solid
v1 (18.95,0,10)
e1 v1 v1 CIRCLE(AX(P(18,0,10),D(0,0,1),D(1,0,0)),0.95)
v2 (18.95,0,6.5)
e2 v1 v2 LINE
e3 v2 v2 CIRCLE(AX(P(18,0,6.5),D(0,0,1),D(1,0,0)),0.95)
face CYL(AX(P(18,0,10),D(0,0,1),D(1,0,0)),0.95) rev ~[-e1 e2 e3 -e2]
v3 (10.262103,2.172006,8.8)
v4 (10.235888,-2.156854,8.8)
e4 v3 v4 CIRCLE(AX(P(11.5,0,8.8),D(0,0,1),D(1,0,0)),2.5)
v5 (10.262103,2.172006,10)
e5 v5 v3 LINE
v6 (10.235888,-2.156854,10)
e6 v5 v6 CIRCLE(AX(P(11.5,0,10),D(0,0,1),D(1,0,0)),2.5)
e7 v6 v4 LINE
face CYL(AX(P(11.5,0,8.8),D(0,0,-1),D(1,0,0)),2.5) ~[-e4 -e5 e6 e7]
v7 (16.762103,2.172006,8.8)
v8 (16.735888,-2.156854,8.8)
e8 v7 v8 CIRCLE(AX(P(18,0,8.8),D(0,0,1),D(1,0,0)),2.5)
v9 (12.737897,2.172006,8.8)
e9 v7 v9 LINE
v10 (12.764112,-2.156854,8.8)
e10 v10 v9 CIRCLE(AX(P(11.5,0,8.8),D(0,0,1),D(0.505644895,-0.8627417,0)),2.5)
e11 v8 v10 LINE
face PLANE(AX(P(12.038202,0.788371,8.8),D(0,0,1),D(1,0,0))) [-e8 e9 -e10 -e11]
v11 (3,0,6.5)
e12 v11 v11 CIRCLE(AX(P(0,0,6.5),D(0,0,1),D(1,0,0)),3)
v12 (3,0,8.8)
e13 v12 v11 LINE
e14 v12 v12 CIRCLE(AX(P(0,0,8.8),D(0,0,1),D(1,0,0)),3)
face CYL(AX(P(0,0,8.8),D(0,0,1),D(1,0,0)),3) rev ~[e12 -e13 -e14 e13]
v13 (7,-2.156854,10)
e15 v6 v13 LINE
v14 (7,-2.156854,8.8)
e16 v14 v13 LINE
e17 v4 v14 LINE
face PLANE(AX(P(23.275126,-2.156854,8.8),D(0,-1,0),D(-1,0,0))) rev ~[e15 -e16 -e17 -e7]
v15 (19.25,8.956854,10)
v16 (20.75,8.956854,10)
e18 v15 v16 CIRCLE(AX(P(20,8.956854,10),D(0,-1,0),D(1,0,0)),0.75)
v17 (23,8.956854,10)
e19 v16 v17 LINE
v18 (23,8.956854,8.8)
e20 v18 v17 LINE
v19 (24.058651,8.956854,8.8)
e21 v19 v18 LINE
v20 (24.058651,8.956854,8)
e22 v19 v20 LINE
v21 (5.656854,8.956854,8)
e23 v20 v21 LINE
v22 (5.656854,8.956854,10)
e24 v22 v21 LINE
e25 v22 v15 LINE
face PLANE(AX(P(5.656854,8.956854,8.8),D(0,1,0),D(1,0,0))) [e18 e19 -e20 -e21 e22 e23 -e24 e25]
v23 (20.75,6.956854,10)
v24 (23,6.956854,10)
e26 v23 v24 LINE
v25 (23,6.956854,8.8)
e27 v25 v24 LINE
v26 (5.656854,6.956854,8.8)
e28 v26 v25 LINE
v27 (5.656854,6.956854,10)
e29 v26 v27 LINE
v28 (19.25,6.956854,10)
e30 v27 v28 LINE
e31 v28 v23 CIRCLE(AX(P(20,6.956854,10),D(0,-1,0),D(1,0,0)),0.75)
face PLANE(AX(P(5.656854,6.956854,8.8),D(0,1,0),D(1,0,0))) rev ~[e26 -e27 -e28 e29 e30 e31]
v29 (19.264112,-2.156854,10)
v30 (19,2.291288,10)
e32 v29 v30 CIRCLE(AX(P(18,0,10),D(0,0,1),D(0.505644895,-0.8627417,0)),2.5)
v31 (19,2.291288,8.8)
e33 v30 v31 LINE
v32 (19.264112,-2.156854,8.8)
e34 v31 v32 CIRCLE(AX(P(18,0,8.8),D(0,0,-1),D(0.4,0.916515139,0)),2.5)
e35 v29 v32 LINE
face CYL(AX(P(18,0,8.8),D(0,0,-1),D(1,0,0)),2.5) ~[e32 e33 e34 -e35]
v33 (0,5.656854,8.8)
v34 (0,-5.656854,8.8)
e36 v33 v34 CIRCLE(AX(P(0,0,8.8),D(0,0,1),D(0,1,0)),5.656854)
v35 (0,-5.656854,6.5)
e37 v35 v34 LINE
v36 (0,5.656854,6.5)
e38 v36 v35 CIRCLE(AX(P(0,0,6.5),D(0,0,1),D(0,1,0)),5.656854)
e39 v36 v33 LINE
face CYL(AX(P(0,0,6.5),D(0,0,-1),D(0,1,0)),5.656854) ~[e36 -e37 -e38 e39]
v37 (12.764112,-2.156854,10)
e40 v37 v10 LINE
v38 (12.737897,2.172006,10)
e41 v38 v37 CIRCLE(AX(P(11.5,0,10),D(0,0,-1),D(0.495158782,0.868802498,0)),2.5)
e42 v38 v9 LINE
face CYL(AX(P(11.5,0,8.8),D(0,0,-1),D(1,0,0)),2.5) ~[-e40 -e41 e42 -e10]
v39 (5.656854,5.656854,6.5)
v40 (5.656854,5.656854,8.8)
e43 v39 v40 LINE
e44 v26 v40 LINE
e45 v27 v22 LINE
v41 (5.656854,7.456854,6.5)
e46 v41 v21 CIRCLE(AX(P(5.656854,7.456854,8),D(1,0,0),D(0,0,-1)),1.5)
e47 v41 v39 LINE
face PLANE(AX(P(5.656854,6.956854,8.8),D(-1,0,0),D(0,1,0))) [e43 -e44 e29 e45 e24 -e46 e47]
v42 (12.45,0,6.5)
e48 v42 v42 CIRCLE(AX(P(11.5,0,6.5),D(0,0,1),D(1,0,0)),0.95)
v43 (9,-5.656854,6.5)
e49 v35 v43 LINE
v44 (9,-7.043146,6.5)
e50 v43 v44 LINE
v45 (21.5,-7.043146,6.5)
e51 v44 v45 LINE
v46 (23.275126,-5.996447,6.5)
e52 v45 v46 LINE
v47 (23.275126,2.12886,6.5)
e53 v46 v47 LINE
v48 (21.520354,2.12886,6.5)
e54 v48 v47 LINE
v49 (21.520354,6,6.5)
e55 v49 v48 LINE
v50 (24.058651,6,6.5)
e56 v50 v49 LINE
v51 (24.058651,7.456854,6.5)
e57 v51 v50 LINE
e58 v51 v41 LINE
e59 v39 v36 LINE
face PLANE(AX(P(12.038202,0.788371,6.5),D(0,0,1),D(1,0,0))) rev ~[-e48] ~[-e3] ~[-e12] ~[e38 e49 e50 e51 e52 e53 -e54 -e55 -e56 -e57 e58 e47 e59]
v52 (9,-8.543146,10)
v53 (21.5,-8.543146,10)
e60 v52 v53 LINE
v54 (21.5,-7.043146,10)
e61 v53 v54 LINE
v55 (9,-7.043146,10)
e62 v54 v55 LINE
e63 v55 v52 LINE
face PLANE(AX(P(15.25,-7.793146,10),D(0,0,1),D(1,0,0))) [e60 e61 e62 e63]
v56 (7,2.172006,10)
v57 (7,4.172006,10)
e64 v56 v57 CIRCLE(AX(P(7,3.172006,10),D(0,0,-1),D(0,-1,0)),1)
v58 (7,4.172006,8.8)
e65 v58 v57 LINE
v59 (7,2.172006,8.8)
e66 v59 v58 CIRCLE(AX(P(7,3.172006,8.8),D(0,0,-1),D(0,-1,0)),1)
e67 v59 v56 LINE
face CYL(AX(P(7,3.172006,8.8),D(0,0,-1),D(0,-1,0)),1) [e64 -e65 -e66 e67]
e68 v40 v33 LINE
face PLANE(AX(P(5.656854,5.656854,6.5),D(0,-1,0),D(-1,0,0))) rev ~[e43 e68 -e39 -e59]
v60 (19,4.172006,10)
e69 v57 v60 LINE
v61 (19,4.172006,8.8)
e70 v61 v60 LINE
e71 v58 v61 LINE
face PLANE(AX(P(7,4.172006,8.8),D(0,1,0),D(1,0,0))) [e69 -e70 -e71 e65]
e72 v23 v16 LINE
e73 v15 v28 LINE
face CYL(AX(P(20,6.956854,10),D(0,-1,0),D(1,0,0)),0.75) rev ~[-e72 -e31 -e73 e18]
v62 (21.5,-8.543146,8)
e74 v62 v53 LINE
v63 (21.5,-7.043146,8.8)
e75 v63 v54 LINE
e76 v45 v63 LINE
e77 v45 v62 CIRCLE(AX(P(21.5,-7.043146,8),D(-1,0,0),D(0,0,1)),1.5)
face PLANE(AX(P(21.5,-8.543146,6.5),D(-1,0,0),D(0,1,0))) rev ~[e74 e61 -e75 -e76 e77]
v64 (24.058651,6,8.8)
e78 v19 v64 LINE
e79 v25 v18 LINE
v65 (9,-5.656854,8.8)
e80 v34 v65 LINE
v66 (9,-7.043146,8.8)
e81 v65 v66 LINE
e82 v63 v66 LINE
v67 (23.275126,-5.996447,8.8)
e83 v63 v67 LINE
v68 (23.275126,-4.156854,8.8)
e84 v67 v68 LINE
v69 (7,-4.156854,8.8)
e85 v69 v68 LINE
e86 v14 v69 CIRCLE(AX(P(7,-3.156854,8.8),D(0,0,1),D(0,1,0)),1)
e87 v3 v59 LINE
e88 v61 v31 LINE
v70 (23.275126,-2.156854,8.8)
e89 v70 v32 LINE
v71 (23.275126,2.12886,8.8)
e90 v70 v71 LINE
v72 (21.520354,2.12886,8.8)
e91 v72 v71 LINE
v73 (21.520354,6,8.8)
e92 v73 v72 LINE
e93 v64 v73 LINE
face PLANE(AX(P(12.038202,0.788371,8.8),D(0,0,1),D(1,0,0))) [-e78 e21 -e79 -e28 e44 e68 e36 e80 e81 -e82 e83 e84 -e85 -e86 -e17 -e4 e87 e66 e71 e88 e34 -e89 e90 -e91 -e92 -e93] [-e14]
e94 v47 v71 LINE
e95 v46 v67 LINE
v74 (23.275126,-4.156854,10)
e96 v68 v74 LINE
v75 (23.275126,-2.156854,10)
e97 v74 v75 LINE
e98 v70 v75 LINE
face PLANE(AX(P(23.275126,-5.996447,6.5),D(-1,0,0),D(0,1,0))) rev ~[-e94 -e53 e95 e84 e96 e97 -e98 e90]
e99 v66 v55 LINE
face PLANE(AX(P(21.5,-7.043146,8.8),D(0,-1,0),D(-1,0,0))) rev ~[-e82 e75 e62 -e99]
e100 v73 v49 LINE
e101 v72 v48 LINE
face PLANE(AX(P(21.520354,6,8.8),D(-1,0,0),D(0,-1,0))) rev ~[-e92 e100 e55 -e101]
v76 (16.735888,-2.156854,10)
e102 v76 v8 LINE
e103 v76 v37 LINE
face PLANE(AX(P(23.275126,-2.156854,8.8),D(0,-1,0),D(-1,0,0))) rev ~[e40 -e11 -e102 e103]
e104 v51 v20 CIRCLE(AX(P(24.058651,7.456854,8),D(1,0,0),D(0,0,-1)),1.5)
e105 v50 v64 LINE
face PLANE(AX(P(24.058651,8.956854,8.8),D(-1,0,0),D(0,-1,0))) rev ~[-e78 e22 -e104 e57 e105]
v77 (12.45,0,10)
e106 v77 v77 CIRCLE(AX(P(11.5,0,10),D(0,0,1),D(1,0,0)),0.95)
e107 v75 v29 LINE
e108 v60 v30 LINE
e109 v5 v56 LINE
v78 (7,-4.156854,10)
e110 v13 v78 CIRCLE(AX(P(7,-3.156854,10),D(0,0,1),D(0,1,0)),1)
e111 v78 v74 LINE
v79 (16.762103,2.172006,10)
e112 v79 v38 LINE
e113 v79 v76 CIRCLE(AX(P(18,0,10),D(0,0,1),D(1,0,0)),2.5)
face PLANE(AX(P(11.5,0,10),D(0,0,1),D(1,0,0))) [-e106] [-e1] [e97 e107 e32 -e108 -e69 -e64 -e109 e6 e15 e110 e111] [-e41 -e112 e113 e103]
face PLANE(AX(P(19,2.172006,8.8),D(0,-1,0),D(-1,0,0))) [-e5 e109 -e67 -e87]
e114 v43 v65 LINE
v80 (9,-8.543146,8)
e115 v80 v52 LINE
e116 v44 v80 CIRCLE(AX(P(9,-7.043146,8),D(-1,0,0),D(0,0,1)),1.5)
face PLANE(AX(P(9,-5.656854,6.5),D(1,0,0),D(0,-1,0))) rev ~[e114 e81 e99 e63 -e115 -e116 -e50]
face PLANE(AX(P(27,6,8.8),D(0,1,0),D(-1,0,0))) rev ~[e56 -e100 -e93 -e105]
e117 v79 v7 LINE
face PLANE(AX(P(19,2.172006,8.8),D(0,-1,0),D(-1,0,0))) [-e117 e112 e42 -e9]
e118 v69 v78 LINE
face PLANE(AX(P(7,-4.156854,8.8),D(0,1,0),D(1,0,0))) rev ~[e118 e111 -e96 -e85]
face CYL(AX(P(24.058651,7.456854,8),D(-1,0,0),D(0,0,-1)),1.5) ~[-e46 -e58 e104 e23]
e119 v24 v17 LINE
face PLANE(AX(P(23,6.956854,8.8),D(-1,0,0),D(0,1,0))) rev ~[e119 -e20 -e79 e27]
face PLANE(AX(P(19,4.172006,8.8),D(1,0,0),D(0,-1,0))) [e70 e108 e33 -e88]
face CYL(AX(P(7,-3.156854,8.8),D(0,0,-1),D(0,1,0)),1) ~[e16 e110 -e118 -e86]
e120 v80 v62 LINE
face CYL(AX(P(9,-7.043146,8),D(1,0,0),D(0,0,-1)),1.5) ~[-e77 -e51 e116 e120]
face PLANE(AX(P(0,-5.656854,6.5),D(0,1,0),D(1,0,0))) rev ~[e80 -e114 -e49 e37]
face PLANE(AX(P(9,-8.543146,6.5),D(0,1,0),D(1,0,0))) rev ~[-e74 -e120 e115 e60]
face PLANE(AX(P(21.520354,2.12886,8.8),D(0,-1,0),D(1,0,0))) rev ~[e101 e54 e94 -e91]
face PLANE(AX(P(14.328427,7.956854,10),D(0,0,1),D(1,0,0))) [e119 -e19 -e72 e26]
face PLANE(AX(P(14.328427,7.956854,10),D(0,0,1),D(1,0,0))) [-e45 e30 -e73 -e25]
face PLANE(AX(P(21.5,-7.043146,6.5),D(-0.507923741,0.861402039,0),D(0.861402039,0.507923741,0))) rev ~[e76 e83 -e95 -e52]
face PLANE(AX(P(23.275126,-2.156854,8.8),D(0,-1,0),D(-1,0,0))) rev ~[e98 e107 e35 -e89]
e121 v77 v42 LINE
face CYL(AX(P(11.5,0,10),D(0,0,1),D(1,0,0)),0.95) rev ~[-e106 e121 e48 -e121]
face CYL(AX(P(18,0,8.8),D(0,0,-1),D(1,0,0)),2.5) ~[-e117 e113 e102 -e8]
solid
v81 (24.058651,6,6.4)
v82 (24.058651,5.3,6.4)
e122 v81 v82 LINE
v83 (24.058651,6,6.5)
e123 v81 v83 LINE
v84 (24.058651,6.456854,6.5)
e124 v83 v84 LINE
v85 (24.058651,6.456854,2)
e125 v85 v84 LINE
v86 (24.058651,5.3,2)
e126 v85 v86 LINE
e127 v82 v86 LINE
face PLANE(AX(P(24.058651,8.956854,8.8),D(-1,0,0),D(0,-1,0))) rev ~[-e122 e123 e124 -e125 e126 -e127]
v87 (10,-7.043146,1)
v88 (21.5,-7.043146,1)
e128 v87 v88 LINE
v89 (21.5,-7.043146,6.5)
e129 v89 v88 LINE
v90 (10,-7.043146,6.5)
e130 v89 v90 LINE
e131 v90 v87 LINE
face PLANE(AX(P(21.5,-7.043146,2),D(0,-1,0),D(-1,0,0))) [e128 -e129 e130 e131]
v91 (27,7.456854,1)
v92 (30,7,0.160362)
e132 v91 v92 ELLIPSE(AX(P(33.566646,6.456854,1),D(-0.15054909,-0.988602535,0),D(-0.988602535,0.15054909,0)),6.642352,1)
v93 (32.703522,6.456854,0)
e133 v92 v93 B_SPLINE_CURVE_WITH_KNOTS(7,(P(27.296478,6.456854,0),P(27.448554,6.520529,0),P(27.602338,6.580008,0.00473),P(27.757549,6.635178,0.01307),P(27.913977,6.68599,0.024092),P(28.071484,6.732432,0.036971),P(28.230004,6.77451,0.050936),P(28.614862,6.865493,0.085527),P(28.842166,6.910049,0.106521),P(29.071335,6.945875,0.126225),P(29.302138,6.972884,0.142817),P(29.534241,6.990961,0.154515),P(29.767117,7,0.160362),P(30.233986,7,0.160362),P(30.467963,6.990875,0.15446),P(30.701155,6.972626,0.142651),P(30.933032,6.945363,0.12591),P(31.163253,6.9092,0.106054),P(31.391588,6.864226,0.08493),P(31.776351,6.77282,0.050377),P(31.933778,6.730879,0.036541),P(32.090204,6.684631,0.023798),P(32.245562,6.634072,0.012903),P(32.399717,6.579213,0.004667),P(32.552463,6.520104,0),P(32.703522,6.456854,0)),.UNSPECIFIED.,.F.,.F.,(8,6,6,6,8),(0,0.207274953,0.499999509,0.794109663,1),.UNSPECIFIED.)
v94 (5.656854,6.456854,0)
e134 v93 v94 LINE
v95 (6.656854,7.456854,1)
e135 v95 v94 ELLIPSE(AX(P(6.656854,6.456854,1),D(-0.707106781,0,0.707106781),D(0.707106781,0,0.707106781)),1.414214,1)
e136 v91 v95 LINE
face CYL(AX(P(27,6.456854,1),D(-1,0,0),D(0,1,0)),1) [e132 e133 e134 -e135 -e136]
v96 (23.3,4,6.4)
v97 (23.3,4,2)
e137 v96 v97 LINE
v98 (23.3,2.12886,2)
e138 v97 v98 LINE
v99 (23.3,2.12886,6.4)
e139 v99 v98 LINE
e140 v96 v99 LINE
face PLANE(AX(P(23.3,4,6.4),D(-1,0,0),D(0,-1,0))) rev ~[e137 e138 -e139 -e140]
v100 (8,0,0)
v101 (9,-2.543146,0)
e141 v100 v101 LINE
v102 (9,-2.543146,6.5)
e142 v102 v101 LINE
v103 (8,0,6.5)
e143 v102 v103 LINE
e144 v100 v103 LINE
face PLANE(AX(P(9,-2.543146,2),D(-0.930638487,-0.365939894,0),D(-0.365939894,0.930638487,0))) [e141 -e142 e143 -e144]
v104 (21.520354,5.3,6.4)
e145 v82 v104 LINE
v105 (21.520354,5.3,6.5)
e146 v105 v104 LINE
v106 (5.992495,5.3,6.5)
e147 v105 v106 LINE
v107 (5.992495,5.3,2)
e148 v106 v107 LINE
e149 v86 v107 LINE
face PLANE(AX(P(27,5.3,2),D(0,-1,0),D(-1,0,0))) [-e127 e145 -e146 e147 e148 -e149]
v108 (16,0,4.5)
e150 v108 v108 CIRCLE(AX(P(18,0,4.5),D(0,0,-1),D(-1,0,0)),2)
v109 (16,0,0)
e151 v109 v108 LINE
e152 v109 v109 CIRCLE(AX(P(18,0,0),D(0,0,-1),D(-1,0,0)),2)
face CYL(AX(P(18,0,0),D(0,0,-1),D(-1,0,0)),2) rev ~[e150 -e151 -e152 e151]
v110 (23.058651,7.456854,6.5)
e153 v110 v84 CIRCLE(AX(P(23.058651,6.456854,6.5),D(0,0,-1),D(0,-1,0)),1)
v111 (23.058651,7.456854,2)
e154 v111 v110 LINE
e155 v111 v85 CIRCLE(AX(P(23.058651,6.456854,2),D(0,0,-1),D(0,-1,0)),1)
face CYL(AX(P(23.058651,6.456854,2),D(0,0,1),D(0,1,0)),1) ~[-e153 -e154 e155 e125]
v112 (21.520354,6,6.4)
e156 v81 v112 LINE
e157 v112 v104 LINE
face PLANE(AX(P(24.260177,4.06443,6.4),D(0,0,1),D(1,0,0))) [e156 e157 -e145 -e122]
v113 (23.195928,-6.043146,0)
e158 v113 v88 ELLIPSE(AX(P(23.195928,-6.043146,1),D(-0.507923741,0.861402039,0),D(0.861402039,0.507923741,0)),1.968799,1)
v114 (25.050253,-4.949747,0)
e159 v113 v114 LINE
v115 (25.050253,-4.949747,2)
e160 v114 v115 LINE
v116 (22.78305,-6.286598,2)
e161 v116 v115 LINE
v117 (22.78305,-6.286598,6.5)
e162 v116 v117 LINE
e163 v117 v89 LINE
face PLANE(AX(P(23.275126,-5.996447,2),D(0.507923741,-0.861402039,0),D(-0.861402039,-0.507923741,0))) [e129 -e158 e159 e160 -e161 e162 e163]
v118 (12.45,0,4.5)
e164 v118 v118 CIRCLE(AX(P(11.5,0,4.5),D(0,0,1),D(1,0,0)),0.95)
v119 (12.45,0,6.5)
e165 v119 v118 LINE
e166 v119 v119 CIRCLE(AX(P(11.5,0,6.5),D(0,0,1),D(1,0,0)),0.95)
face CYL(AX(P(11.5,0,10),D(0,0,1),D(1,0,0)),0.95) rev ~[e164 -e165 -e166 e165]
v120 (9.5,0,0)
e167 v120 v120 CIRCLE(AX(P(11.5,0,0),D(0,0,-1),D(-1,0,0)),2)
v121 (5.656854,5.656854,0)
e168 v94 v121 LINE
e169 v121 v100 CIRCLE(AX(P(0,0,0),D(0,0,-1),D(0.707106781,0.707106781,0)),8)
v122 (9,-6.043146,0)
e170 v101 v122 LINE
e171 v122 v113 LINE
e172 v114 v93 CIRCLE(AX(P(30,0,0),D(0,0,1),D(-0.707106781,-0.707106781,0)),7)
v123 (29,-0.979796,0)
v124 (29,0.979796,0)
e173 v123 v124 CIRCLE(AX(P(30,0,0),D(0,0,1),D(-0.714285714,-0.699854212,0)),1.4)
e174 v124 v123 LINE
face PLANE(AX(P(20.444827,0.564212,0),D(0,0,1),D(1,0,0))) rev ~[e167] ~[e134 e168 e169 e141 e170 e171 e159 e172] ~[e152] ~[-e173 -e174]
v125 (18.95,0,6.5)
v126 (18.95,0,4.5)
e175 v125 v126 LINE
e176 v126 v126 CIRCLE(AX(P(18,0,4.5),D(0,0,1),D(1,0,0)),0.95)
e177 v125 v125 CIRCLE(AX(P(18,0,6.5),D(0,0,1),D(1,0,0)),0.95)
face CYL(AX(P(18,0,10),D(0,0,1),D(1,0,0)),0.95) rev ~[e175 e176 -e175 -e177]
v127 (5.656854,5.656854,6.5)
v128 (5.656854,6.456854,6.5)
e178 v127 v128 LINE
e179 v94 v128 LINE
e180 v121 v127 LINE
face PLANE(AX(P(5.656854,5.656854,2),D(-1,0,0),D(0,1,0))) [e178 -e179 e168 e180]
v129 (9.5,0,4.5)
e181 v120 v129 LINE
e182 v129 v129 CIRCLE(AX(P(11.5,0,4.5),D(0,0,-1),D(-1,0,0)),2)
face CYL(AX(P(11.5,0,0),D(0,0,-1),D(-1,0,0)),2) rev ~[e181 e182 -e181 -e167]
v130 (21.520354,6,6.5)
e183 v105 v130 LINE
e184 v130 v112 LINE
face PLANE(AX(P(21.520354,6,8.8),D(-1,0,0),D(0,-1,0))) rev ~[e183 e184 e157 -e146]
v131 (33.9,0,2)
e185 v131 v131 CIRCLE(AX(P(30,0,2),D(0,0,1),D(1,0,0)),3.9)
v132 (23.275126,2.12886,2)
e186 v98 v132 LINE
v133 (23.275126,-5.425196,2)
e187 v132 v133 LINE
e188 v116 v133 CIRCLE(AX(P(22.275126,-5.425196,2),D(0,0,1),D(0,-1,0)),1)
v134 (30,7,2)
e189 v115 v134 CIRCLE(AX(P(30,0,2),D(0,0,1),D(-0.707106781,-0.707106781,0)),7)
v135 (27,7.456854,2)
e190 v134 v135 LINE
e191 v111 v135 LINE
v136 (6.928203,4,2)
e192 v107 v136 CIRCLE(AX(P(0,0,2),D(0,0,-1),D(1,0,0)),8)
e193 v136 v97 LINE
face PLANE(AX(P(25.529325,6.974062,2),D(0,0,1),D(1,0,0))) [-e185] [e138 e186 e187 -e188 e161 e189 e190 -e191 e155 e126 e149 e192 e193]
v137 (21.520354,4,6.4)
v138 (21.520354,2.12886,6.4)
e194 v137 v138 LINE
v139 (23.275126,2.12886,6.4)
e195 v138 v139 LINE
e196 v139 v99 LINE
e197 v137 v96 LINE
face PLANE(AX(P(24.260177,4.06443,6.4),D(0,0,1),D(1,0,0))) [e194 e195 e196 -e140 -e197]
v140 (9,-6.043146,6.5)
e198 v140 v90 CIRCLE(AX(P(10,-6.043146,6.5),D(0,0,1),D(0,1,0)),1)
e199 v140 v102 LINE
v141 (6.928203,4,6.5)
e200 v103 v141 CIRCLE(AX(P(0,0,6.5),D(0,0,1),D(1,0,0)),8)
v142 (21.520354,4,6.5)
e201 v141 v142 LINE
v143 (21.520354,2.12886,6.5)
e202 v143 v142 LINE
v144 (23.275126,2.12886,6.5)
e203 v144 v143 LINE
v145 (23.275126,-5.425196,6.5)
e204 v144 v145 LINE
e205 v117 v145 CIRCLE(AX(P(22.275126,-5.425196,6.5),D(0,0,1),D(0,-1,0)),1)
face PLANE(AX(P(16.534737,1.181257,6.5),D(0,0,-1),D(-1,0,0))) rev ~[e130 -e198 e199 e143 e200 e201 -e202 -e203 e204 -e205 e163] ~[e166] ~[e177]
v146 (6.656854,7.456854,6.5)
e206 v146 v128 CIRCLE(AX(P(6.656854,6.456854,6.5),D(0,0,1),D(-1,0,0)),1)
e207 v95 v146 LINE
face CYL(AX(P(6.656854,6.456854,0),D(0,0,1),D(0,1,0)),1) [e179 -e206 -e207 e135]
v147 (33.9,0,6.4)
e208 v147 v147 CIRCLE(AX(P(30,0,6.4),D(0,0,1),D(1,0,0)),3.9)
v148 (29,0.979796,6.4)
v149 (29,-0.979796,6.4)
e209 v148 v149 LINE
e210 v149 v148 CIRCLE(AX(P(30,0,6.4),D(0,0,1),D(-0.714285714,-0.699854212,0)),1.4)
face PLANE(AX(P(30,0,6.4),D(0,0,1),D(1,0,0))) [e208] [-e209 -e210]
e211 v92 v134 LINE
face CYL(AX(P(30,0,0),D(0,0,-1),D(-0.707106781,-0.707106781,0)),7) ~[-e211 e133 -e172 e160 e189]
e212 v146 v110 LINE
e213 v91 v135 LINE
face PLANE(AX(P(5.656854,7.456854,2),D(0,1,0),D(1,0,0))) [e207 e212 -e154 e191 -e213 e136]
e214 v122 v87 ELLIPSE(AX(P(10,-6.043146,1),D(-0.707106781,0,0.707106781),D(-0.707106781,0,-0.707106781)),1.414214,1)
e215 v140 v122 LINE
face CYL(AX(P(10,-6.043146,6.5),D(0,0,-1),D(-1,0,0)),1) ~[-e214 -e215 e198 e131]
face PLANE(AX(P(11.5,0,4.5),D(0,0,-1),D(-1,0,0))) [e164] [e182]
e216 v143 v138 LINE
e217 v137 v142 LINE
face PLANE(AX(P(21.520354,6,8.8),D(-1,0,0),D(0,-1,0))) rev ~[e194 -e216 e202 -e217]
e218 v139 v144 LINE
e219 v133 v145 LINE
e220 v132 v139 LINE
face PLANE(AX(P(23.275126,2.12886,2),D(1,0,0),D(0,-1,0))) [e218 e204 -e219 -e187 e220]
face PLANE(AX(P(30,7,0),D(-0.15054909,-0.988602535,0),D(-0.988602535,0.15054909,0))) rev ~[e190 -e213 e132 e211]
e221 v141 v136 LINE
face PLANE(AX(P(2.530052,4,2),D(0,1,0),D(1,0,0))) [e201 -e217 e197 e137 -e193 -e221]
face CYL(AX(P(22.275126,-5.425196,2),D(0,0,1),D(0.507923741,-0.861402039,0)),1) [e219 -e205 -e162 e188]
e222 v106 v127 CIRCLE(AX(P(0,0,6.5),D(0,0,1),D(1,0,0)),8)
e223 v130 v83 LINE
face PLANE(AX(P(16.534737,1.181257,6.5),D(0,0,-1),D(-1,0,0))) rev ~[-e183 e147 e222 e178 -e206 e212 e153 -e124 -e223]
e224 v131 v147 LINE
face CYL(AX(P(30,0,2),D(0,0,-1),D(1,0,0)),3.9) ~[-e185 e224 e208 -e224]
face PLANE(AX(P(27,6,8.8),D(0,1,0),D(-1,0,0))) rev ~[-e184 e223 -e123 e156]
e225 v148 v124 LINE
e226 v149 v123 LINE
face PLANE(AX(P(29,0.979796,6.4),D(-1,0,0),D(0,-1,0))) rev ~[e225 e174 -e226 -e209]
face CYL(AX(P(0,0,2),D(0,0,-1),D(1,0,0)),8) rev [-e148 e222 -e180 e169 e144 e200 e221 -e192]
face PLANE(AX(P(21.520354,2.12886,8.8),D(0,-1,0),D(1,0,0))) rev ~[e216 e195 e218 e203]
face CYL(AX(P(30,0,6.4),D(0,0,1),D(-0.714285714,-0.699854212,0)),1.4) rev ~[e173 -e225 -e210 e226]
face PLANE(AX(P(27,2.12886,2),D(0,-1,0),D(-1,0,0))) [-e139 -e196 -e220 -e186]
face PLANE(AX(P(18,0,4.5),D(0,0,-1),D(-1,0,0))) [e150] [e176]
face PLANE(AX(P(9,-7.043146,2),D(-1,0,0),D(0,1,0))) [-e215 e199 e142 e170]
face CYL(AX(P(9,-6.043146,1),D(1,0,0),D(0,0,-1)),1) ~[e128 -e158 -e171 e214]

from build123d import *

# Parameters (mm, degrees)
BOSS_EXTRUDE1_DEPTH  = 2
BOSS_EXTRUDE6_DEPTH  = 4.5
CUT_EXTRUDE6_DEPTH   = 4.5
BOSS_EXTRUDE14_DEPTH = 2.3
SKETCH32_R           = 3
CUT_EXTRUDE7_DEPTH   = 2.3
SKETCH33_W           = 17.343145750507624
SKETCH33_H           = 2
BOSS_EXTRUDE15_DEPTH = 1.2
CUT_EXTRUDE8_DEPTH   = 2.4
CUT_EXTRUDE9_DEPTH   = 4.3999999999999995
SKETCH37_R           = 3.899999999999994
BOSS_EXTRUDE16_DEPTH = 4.4
CUT_EXTRUDE10_DEPTH  = 39.60291748102272
SKETCH43_R           = 2.5000000000000004
SKETCH43_R_2         = 2.4999999999999982
BOSS_EXTRUDE17_DEPTH = 1.2
SKETCH44_R           = 0.9499999999999992
SKETCH44_R_2         = 0.9500000000000008
CUT_EXTRUDE11_DEPTH  = 40.360198653546576
SKETCH45_R           = 1.9999999999999996
SKETCH45_R_2         = 2.000000000000003
CUT_EXTRUDE12_DEPTH  = 4.5
SKETCH49_R           = 0.7500000000000021
CUT_EXTRUDE13_DEPTH  = 3
CUT_EXTRUDE14_DEPTH  = 6.8
FILLET1_R            = 1.5
FILLET3_R            = 1


with BuildPart() as part:
    # Sketch3 → Boss-Extrude1 (new body)
    with BuildSketch(Plane.XY):
        with BuildLine():
            Line((8.000000000000002, 0), (8.999999999999993, -2.5431457505076343))
            Line((8.999999999999993, -2.5431457505076343), (8.999999999999993, -7.04314575050762))
            Line((8.999999999999993, -7.04314575050762), (21.50000000000003, -7.043145750507617))
            Line((21.50000000000003, -7.043145750507617), (25.05025253169419, -4.949747468305846))
            ThreePointArc((25.05025253169419, -4.949747468305846), (36.46715672757901, -2.678784026555599), (30, 7.000000000000014))
            Line((30, 7.000000000000014), (26.999999999999996, 7.456854249492377))
            Line((26.999999999999996, 7.456854249492377), (5.656854249492369, 7.456854249492377))
            Line((5.656854249492369, 7.456854249492377), (5.656854249492376, 5.656854249492382))
            ThreePointArc((5.656854249492376, 5.656854249492382), (7.391036260090296, 3.061467458920721), (8.000000000000002, 0))
        make_face()
    extrude(amount=BOSS_EXTRUDE1_DEPTH)

    # Sketch22 → Boss-Extrude6 (add)
    with BuildSketch(Plane.XY.offset(2)):
        with BuildLine():
            Line((5.656854249492376, 7.456854249492377), (21.50000000000004, 7.456854249492377))
            Line((21.50000000000004, 7.456854249492377), (26.999999999999996, 7.456854249492377))
            Line((26.999999999999996, 7.456854249492377), (26.999999999999996, 2.1288604946885763))
            Line((26.999999999999996, 2.1288604946885763), (23.27512626584711, 2.128860494688576))
            Line((23.27512626584711, 2.128860494688576), (23.27512626584711, -5.996446609406731))
            Line((23.27512626584711, -5.996446609406731), (21.50000000000003, -7.043145750507617))
            Line((21.50000000000003, -7.043145750507617), (8.999999999999993, -7.04314575050762))
            Line((8.999999999999993, -7.04314575050762), (8.999999999999993, -2.5431457505076343))
            Line((8.999999999999993, -2.5431457505076343), (7.999999999999998, 0))
            ThreePointArc((7.999999999999998, 0), (7.391036260090291, 3.061467458920719), (5.656854249492376, 5.656854249492382))
            Line((5.656854249492376, 5.656854249492382), (5.656854249492376, 7.456854249492377))
        make_face()
    extrude(amount=BOSS_EXTRUDE6_DEPTH)

    # Sketch26 → Cut-Extrude6 (cut)
    with BuildSketch(Plane.XY.offset(2)):
        Polygon((18.098080447707712, 5.299999999999999), (2.5300524575164793, 5.299999999999999), (2.5300524575164793, 4), (18.098080447707712, 4), (26.999999999999996, 4), (26.999999999999996, 5.299999999999999), align=None)
    extrude(amount=CUT_EXTRUDE6_DEPTH, mode=Mode.SUBTRACT)


with BuildPart() as body_2:
    # Sketch31 → Boss-Extrude14 (new body)
    with BuildSketch(Plane.XY.offset(6.5)):
        with BuildLine():
            Line((2.4326880657739025, 5.656854249492382), (0, 5.656854249492382))
            ThreePointArc((0, 5.656854249492382), (-5.656854249492382, 6.9e-16), (0, -5.656854249492382))
            Line((0, -5.656854249492382), (9.000000000000004, -5.656854249492382))
            Line((9.000000000000004, -5.656854249492382), (8.999999999999993, -7.04314575050762))
            Line((8.999999999999993, -7.04314575050762), (8.999999999999993, -8.54314575050762))
            Line((8.999999999999993, -8.54314575050762), (21.50000000000003, -8.54314575050762))
            Line((21.50000000000003, -8.54314575050762), (21.50000000000003, -7.043145750507617))
            Line((21.50000000000003, -7.043145750507617), (23.27512626584711, -5.996446609406731))
            Line((23.27512626584711, -5.996446609406731), (23.27512626584711, 2.128860494688576))
            Line((23.27512626584711, 2.128860494688576), (26.999999999999996, 2.1288604946885763))
            Line((26.999999999999996, 2.1288604946885763), (26.999999999999996, 7.456854249492377))
            Line((26.999999999999996, 7.456854249492377), (26.999999999999996, 8.956854249492377))
            Line((26.999999999999996, 8.956854249492377), (5.656854249492376, 8.956854249492377))
            Line((5.656854249492376, 8.956854249492377), (5.656854249492376, 7.456854249492377))
            Line((5.656854249492376, 7.456854249492377), (5.656854249492376, 5.656854249492382))
            Line((5.656854249492376, 5.656854249492382), (2.4326880657739025, 5.656854249492382))
        make_face()
    extrude(amount=BOSS_EXTRUDE14_DEPTH)

    # Sketch32 → Cut-Extrude7 (cut)
    with BuildSketch(Plane.XY.offset(8.799999999999999)):
        Circle(SKETCH32_R)
    extrude(amount=-CUT_EXTRUDE7_DEPTH, mode=Mode.SUBTRACT)

    # Sketch33 → Boss-Extrude15 (add)
    with BuildSketch(Plane.XY.offset(8.799999999999999)):
        with Locations((14.328427124746185, 7.956854249492377)):
            Rectangle(SKETCH33_W, SKETCH33_H)
        Polygon((9.000000000000004, -7.043145750507619), (9.000000000000004, -8.54314575050762), (21.50000000000003, -8.54314575050762), (21.50000000000003, -7.043145750507617), align=None)
        with BuildLine():
            Line((7.000000000000003, -4.156854249492383), (23.275126265847117, -4.156854249492383))
            Line((23.275126265847117, -4.156854249492383), (23.275126265847113, -2.1568542494923815))
            Line((23.275126265847113, -2.1568542494923815), (7.000000000000003, -2.1568542494923832))
            ThreePointArc((7.000000000000003, -2.1568542494923832), (6.000000000000003, -3.1568542494923832), (7.000000000000003, -4.156854249492383))
        make_face()
        with BuildLine():
            Line((18.999999999999996, 2.172006245196199), (7.000000000000003, 2.172006245196201))
            ThreePointArc((7.000000000000003, 2.172006245196201), (6.0000000000000036, 3.1720062451962), (7.000000000000003, 4.172006245196199))
            Line((7.000000000000003, 4.172006245196199), (18.999999999999996, 4.172006245196199))
            Line((18.999999999999996, 4.172006245196199), (18.999999999999996, 2.172006245196199))
        make_face()
    extrude(amount=BOSS_EXTRUDE15_DEPTH)


with BuildPart() as cut_extrude8_tool:
    # Sketch35 → Cut-Extrude8 (new body)
    with BuildSketch(Plane.XY.offset(8.799999999999999)):
        Polygon((26.999999999999996, 2.1288604946885763), (26.999999999999996, 6.000000000000002), (21.520354003499165, 6.000000000000002), (21.520354003499165, 2.1288604946885754), align=None)
    extrude(amount=-CUT_EXTRUDE8_DEPTH)


with BuildPart() as part_1:
    add(part.part)

    # Cut-Extrude8: cut by cut_extrude8_tool
    add(cut_extrude8_tool.part, mode=Mode.SUBTRACT)

    # Sketch36 → Cut-Extrude9 (cut)
    with BuildSketch(Plane.XY.offset(6.3999999999999995)):
        Polygon((26.999999999999996, 2.1288604946885763), (26.999999999999996, 4), (23.30000000000004, 3.999999999999999), (23.30000000000003, 2.1288604946885754), align=None)
    extrude(amount=-CUT_EXTRUDE9_DEPTH, mode=Mode.SUBTRACT)

    # Sketch37 → Boss-Extrude16 (add)
    with BuildSketch(Plane.XY.offset(2)):
        with Locations((29.999999999999996, 1.388e-14)):
            Circle(SKETCH37_R)
    extrude(amount=BOSS_EXTRUDE16_DEPTH)

    # Sketch39 → Cut-Extrude10 (cut, through all)
    with BuildSketch(Plane.XY.offset(6.4)):
        with BuildLine():
            Line((28.999999999999993, 0.9797958971132569), (28.999999999999993, -0.9797958971132569))
            ThreePointArc((28.999999999999993, -0.9797958971132569), (31.4, 2.383e-14), (28.999999999999993, 0.9797958971132569))
        make_face()
    extrude(amount=-CUT_EXTRUDE10_DEPTH, mode=Mode.SUBTRACT)


with BuildPart() as body_2_1:
    add(body_2.part)

    # Cut-Extrude8: cut by cut_extrude8_tool
    add(cut_extrude8_tool.part, mode=Mode.SUBTRACT)

    # Sketch43 → Boss-Extrude17 (add)
    with BuildSketch(Plane.XY.offset(8.799999999999999)):
        with Locations((11.500000000000004, 0)):
            Circle(SKETCH43_R)
        with Locations((18.000000000000004, 0)):
            Circle(SKETCH43_R_2)
    extrude(amount=BOSS_EXTRUDE17_DEPTH)


with BuildPart() as cut_extrude11_tool:
    # Sketch44 → Cut-Extrude11 (new, through all)
    with BuildSketch(Plane.XY.offset(9.999999999999998)):
        with Locations((11.500000000000004, 0)):
            Circle(SKETCH44_R)
        with Locations((18.000000000000004, 0)):
            Circle(SKETCH44_R_2)
    extrude(amount=-CUT_EXTRUDE11_DEPTH)


with BuildPart() as part_2:
    add(part_1.part)

    # Cut-Extrude11: cut by cut_extrude11_tool
    add(cut_extrude11_tool.part, mode=Mode.SUBTRACT)

    # Sketch45 → Cut-Extrude12 (cut)
    with BuildSketch(Plane(origin=(0, 0, 0), x_dir=(-1, 0, 0), z_dir=(0, 0, -1))):
        with Locations((-11.500000000000004, 0)):
            Circle(SKETCH45_R)
        with Locations((-18.000000000000004, 0)):
            Circle(SKETCH45_R_2)
    extrude(amount=-CUT_EXTRUDE12_DEPTH, mode=Mode.SUBTRACT)


with BuildPart() as body_2_2:
    add(body_2_1.part)

    # Cut-Extrude11: cut by cut_extrude11_tool
    add(cut_extrude11_tool.part, mode=Mode.SUBTRACT)

    # Sketch49 → Cut-Extrude13 (cut)
    with BuildSketch(Plane.XZ.offset(-6.956854249492377)):
        with Locations((19.999999999999996, 9.999999999999998)):
            Circle(SKETCH49_R)
    extrude(amount=-CUT_EXTRUDE13_DEPTH, mode=Mode.SUBTRACT)


with BuildPart() as cut_extrude14_tool:
    # Sketch51 → Cut-Extrude14 (new body)
    with BuildSketch(Plane.XY.offset(8.799999999999999)):
        Polygon((27, 8.956854249492377), (24.058650564533934, 8.956854249492377), (24.058650564533938, 4.991269007681976), (26.999999999999996, 4.991269007681976), align=None)
    extrude(amount=-CUT_EXTRUDE14_DEPTH)


with BuildPart() as part_3:
    add(part_2.part)

    # Cut-Extrude14: cut by cut_extrude14_tool
    add(cut_extrude14_tool.part, mode=Mode.SUBTRACT)

    # Fillet3
    fillet3_edges = [part_3.edges().sort_by_distance(p)[0] for p in [
        (23.27512626584711, -5.996446609406731, 4.25),
        (24.058650564533934, 7.456854249492377, 4.25),
        (8.999999999999993, -7.04314575050762, 3.25),
        (5.656854249492373, 7.456854249492377, 3.25),
        (15.25000000000001, -7.043145750507618, 0),
        (16.328427124746185, 7.456854249492377, 0),
    ]]
    fillet(fillet3_edges, radius=FILLET3_R)


with BuildPart() as body_2_3:
    add(body_2_2.part)

    # Cut-Extrude14: cut by cut_extrude14_tool
    add(cut_extrude14_tool.part, mode=Mode.SUBTRACT)

    # Fillet1
    fillet1_edges = [body_2_3.edges().sort_by_distance(p)[0] for p in [
        (14.857752407013155, 8.956854249492377, 6.5),
        (15.25000000000001, -8.54314575050762, 6.5),
    ]]
    fillet(fillet1_edges, radius=FILLET1_R)


solid = Compound([part_3.part, body_2_3.part])
